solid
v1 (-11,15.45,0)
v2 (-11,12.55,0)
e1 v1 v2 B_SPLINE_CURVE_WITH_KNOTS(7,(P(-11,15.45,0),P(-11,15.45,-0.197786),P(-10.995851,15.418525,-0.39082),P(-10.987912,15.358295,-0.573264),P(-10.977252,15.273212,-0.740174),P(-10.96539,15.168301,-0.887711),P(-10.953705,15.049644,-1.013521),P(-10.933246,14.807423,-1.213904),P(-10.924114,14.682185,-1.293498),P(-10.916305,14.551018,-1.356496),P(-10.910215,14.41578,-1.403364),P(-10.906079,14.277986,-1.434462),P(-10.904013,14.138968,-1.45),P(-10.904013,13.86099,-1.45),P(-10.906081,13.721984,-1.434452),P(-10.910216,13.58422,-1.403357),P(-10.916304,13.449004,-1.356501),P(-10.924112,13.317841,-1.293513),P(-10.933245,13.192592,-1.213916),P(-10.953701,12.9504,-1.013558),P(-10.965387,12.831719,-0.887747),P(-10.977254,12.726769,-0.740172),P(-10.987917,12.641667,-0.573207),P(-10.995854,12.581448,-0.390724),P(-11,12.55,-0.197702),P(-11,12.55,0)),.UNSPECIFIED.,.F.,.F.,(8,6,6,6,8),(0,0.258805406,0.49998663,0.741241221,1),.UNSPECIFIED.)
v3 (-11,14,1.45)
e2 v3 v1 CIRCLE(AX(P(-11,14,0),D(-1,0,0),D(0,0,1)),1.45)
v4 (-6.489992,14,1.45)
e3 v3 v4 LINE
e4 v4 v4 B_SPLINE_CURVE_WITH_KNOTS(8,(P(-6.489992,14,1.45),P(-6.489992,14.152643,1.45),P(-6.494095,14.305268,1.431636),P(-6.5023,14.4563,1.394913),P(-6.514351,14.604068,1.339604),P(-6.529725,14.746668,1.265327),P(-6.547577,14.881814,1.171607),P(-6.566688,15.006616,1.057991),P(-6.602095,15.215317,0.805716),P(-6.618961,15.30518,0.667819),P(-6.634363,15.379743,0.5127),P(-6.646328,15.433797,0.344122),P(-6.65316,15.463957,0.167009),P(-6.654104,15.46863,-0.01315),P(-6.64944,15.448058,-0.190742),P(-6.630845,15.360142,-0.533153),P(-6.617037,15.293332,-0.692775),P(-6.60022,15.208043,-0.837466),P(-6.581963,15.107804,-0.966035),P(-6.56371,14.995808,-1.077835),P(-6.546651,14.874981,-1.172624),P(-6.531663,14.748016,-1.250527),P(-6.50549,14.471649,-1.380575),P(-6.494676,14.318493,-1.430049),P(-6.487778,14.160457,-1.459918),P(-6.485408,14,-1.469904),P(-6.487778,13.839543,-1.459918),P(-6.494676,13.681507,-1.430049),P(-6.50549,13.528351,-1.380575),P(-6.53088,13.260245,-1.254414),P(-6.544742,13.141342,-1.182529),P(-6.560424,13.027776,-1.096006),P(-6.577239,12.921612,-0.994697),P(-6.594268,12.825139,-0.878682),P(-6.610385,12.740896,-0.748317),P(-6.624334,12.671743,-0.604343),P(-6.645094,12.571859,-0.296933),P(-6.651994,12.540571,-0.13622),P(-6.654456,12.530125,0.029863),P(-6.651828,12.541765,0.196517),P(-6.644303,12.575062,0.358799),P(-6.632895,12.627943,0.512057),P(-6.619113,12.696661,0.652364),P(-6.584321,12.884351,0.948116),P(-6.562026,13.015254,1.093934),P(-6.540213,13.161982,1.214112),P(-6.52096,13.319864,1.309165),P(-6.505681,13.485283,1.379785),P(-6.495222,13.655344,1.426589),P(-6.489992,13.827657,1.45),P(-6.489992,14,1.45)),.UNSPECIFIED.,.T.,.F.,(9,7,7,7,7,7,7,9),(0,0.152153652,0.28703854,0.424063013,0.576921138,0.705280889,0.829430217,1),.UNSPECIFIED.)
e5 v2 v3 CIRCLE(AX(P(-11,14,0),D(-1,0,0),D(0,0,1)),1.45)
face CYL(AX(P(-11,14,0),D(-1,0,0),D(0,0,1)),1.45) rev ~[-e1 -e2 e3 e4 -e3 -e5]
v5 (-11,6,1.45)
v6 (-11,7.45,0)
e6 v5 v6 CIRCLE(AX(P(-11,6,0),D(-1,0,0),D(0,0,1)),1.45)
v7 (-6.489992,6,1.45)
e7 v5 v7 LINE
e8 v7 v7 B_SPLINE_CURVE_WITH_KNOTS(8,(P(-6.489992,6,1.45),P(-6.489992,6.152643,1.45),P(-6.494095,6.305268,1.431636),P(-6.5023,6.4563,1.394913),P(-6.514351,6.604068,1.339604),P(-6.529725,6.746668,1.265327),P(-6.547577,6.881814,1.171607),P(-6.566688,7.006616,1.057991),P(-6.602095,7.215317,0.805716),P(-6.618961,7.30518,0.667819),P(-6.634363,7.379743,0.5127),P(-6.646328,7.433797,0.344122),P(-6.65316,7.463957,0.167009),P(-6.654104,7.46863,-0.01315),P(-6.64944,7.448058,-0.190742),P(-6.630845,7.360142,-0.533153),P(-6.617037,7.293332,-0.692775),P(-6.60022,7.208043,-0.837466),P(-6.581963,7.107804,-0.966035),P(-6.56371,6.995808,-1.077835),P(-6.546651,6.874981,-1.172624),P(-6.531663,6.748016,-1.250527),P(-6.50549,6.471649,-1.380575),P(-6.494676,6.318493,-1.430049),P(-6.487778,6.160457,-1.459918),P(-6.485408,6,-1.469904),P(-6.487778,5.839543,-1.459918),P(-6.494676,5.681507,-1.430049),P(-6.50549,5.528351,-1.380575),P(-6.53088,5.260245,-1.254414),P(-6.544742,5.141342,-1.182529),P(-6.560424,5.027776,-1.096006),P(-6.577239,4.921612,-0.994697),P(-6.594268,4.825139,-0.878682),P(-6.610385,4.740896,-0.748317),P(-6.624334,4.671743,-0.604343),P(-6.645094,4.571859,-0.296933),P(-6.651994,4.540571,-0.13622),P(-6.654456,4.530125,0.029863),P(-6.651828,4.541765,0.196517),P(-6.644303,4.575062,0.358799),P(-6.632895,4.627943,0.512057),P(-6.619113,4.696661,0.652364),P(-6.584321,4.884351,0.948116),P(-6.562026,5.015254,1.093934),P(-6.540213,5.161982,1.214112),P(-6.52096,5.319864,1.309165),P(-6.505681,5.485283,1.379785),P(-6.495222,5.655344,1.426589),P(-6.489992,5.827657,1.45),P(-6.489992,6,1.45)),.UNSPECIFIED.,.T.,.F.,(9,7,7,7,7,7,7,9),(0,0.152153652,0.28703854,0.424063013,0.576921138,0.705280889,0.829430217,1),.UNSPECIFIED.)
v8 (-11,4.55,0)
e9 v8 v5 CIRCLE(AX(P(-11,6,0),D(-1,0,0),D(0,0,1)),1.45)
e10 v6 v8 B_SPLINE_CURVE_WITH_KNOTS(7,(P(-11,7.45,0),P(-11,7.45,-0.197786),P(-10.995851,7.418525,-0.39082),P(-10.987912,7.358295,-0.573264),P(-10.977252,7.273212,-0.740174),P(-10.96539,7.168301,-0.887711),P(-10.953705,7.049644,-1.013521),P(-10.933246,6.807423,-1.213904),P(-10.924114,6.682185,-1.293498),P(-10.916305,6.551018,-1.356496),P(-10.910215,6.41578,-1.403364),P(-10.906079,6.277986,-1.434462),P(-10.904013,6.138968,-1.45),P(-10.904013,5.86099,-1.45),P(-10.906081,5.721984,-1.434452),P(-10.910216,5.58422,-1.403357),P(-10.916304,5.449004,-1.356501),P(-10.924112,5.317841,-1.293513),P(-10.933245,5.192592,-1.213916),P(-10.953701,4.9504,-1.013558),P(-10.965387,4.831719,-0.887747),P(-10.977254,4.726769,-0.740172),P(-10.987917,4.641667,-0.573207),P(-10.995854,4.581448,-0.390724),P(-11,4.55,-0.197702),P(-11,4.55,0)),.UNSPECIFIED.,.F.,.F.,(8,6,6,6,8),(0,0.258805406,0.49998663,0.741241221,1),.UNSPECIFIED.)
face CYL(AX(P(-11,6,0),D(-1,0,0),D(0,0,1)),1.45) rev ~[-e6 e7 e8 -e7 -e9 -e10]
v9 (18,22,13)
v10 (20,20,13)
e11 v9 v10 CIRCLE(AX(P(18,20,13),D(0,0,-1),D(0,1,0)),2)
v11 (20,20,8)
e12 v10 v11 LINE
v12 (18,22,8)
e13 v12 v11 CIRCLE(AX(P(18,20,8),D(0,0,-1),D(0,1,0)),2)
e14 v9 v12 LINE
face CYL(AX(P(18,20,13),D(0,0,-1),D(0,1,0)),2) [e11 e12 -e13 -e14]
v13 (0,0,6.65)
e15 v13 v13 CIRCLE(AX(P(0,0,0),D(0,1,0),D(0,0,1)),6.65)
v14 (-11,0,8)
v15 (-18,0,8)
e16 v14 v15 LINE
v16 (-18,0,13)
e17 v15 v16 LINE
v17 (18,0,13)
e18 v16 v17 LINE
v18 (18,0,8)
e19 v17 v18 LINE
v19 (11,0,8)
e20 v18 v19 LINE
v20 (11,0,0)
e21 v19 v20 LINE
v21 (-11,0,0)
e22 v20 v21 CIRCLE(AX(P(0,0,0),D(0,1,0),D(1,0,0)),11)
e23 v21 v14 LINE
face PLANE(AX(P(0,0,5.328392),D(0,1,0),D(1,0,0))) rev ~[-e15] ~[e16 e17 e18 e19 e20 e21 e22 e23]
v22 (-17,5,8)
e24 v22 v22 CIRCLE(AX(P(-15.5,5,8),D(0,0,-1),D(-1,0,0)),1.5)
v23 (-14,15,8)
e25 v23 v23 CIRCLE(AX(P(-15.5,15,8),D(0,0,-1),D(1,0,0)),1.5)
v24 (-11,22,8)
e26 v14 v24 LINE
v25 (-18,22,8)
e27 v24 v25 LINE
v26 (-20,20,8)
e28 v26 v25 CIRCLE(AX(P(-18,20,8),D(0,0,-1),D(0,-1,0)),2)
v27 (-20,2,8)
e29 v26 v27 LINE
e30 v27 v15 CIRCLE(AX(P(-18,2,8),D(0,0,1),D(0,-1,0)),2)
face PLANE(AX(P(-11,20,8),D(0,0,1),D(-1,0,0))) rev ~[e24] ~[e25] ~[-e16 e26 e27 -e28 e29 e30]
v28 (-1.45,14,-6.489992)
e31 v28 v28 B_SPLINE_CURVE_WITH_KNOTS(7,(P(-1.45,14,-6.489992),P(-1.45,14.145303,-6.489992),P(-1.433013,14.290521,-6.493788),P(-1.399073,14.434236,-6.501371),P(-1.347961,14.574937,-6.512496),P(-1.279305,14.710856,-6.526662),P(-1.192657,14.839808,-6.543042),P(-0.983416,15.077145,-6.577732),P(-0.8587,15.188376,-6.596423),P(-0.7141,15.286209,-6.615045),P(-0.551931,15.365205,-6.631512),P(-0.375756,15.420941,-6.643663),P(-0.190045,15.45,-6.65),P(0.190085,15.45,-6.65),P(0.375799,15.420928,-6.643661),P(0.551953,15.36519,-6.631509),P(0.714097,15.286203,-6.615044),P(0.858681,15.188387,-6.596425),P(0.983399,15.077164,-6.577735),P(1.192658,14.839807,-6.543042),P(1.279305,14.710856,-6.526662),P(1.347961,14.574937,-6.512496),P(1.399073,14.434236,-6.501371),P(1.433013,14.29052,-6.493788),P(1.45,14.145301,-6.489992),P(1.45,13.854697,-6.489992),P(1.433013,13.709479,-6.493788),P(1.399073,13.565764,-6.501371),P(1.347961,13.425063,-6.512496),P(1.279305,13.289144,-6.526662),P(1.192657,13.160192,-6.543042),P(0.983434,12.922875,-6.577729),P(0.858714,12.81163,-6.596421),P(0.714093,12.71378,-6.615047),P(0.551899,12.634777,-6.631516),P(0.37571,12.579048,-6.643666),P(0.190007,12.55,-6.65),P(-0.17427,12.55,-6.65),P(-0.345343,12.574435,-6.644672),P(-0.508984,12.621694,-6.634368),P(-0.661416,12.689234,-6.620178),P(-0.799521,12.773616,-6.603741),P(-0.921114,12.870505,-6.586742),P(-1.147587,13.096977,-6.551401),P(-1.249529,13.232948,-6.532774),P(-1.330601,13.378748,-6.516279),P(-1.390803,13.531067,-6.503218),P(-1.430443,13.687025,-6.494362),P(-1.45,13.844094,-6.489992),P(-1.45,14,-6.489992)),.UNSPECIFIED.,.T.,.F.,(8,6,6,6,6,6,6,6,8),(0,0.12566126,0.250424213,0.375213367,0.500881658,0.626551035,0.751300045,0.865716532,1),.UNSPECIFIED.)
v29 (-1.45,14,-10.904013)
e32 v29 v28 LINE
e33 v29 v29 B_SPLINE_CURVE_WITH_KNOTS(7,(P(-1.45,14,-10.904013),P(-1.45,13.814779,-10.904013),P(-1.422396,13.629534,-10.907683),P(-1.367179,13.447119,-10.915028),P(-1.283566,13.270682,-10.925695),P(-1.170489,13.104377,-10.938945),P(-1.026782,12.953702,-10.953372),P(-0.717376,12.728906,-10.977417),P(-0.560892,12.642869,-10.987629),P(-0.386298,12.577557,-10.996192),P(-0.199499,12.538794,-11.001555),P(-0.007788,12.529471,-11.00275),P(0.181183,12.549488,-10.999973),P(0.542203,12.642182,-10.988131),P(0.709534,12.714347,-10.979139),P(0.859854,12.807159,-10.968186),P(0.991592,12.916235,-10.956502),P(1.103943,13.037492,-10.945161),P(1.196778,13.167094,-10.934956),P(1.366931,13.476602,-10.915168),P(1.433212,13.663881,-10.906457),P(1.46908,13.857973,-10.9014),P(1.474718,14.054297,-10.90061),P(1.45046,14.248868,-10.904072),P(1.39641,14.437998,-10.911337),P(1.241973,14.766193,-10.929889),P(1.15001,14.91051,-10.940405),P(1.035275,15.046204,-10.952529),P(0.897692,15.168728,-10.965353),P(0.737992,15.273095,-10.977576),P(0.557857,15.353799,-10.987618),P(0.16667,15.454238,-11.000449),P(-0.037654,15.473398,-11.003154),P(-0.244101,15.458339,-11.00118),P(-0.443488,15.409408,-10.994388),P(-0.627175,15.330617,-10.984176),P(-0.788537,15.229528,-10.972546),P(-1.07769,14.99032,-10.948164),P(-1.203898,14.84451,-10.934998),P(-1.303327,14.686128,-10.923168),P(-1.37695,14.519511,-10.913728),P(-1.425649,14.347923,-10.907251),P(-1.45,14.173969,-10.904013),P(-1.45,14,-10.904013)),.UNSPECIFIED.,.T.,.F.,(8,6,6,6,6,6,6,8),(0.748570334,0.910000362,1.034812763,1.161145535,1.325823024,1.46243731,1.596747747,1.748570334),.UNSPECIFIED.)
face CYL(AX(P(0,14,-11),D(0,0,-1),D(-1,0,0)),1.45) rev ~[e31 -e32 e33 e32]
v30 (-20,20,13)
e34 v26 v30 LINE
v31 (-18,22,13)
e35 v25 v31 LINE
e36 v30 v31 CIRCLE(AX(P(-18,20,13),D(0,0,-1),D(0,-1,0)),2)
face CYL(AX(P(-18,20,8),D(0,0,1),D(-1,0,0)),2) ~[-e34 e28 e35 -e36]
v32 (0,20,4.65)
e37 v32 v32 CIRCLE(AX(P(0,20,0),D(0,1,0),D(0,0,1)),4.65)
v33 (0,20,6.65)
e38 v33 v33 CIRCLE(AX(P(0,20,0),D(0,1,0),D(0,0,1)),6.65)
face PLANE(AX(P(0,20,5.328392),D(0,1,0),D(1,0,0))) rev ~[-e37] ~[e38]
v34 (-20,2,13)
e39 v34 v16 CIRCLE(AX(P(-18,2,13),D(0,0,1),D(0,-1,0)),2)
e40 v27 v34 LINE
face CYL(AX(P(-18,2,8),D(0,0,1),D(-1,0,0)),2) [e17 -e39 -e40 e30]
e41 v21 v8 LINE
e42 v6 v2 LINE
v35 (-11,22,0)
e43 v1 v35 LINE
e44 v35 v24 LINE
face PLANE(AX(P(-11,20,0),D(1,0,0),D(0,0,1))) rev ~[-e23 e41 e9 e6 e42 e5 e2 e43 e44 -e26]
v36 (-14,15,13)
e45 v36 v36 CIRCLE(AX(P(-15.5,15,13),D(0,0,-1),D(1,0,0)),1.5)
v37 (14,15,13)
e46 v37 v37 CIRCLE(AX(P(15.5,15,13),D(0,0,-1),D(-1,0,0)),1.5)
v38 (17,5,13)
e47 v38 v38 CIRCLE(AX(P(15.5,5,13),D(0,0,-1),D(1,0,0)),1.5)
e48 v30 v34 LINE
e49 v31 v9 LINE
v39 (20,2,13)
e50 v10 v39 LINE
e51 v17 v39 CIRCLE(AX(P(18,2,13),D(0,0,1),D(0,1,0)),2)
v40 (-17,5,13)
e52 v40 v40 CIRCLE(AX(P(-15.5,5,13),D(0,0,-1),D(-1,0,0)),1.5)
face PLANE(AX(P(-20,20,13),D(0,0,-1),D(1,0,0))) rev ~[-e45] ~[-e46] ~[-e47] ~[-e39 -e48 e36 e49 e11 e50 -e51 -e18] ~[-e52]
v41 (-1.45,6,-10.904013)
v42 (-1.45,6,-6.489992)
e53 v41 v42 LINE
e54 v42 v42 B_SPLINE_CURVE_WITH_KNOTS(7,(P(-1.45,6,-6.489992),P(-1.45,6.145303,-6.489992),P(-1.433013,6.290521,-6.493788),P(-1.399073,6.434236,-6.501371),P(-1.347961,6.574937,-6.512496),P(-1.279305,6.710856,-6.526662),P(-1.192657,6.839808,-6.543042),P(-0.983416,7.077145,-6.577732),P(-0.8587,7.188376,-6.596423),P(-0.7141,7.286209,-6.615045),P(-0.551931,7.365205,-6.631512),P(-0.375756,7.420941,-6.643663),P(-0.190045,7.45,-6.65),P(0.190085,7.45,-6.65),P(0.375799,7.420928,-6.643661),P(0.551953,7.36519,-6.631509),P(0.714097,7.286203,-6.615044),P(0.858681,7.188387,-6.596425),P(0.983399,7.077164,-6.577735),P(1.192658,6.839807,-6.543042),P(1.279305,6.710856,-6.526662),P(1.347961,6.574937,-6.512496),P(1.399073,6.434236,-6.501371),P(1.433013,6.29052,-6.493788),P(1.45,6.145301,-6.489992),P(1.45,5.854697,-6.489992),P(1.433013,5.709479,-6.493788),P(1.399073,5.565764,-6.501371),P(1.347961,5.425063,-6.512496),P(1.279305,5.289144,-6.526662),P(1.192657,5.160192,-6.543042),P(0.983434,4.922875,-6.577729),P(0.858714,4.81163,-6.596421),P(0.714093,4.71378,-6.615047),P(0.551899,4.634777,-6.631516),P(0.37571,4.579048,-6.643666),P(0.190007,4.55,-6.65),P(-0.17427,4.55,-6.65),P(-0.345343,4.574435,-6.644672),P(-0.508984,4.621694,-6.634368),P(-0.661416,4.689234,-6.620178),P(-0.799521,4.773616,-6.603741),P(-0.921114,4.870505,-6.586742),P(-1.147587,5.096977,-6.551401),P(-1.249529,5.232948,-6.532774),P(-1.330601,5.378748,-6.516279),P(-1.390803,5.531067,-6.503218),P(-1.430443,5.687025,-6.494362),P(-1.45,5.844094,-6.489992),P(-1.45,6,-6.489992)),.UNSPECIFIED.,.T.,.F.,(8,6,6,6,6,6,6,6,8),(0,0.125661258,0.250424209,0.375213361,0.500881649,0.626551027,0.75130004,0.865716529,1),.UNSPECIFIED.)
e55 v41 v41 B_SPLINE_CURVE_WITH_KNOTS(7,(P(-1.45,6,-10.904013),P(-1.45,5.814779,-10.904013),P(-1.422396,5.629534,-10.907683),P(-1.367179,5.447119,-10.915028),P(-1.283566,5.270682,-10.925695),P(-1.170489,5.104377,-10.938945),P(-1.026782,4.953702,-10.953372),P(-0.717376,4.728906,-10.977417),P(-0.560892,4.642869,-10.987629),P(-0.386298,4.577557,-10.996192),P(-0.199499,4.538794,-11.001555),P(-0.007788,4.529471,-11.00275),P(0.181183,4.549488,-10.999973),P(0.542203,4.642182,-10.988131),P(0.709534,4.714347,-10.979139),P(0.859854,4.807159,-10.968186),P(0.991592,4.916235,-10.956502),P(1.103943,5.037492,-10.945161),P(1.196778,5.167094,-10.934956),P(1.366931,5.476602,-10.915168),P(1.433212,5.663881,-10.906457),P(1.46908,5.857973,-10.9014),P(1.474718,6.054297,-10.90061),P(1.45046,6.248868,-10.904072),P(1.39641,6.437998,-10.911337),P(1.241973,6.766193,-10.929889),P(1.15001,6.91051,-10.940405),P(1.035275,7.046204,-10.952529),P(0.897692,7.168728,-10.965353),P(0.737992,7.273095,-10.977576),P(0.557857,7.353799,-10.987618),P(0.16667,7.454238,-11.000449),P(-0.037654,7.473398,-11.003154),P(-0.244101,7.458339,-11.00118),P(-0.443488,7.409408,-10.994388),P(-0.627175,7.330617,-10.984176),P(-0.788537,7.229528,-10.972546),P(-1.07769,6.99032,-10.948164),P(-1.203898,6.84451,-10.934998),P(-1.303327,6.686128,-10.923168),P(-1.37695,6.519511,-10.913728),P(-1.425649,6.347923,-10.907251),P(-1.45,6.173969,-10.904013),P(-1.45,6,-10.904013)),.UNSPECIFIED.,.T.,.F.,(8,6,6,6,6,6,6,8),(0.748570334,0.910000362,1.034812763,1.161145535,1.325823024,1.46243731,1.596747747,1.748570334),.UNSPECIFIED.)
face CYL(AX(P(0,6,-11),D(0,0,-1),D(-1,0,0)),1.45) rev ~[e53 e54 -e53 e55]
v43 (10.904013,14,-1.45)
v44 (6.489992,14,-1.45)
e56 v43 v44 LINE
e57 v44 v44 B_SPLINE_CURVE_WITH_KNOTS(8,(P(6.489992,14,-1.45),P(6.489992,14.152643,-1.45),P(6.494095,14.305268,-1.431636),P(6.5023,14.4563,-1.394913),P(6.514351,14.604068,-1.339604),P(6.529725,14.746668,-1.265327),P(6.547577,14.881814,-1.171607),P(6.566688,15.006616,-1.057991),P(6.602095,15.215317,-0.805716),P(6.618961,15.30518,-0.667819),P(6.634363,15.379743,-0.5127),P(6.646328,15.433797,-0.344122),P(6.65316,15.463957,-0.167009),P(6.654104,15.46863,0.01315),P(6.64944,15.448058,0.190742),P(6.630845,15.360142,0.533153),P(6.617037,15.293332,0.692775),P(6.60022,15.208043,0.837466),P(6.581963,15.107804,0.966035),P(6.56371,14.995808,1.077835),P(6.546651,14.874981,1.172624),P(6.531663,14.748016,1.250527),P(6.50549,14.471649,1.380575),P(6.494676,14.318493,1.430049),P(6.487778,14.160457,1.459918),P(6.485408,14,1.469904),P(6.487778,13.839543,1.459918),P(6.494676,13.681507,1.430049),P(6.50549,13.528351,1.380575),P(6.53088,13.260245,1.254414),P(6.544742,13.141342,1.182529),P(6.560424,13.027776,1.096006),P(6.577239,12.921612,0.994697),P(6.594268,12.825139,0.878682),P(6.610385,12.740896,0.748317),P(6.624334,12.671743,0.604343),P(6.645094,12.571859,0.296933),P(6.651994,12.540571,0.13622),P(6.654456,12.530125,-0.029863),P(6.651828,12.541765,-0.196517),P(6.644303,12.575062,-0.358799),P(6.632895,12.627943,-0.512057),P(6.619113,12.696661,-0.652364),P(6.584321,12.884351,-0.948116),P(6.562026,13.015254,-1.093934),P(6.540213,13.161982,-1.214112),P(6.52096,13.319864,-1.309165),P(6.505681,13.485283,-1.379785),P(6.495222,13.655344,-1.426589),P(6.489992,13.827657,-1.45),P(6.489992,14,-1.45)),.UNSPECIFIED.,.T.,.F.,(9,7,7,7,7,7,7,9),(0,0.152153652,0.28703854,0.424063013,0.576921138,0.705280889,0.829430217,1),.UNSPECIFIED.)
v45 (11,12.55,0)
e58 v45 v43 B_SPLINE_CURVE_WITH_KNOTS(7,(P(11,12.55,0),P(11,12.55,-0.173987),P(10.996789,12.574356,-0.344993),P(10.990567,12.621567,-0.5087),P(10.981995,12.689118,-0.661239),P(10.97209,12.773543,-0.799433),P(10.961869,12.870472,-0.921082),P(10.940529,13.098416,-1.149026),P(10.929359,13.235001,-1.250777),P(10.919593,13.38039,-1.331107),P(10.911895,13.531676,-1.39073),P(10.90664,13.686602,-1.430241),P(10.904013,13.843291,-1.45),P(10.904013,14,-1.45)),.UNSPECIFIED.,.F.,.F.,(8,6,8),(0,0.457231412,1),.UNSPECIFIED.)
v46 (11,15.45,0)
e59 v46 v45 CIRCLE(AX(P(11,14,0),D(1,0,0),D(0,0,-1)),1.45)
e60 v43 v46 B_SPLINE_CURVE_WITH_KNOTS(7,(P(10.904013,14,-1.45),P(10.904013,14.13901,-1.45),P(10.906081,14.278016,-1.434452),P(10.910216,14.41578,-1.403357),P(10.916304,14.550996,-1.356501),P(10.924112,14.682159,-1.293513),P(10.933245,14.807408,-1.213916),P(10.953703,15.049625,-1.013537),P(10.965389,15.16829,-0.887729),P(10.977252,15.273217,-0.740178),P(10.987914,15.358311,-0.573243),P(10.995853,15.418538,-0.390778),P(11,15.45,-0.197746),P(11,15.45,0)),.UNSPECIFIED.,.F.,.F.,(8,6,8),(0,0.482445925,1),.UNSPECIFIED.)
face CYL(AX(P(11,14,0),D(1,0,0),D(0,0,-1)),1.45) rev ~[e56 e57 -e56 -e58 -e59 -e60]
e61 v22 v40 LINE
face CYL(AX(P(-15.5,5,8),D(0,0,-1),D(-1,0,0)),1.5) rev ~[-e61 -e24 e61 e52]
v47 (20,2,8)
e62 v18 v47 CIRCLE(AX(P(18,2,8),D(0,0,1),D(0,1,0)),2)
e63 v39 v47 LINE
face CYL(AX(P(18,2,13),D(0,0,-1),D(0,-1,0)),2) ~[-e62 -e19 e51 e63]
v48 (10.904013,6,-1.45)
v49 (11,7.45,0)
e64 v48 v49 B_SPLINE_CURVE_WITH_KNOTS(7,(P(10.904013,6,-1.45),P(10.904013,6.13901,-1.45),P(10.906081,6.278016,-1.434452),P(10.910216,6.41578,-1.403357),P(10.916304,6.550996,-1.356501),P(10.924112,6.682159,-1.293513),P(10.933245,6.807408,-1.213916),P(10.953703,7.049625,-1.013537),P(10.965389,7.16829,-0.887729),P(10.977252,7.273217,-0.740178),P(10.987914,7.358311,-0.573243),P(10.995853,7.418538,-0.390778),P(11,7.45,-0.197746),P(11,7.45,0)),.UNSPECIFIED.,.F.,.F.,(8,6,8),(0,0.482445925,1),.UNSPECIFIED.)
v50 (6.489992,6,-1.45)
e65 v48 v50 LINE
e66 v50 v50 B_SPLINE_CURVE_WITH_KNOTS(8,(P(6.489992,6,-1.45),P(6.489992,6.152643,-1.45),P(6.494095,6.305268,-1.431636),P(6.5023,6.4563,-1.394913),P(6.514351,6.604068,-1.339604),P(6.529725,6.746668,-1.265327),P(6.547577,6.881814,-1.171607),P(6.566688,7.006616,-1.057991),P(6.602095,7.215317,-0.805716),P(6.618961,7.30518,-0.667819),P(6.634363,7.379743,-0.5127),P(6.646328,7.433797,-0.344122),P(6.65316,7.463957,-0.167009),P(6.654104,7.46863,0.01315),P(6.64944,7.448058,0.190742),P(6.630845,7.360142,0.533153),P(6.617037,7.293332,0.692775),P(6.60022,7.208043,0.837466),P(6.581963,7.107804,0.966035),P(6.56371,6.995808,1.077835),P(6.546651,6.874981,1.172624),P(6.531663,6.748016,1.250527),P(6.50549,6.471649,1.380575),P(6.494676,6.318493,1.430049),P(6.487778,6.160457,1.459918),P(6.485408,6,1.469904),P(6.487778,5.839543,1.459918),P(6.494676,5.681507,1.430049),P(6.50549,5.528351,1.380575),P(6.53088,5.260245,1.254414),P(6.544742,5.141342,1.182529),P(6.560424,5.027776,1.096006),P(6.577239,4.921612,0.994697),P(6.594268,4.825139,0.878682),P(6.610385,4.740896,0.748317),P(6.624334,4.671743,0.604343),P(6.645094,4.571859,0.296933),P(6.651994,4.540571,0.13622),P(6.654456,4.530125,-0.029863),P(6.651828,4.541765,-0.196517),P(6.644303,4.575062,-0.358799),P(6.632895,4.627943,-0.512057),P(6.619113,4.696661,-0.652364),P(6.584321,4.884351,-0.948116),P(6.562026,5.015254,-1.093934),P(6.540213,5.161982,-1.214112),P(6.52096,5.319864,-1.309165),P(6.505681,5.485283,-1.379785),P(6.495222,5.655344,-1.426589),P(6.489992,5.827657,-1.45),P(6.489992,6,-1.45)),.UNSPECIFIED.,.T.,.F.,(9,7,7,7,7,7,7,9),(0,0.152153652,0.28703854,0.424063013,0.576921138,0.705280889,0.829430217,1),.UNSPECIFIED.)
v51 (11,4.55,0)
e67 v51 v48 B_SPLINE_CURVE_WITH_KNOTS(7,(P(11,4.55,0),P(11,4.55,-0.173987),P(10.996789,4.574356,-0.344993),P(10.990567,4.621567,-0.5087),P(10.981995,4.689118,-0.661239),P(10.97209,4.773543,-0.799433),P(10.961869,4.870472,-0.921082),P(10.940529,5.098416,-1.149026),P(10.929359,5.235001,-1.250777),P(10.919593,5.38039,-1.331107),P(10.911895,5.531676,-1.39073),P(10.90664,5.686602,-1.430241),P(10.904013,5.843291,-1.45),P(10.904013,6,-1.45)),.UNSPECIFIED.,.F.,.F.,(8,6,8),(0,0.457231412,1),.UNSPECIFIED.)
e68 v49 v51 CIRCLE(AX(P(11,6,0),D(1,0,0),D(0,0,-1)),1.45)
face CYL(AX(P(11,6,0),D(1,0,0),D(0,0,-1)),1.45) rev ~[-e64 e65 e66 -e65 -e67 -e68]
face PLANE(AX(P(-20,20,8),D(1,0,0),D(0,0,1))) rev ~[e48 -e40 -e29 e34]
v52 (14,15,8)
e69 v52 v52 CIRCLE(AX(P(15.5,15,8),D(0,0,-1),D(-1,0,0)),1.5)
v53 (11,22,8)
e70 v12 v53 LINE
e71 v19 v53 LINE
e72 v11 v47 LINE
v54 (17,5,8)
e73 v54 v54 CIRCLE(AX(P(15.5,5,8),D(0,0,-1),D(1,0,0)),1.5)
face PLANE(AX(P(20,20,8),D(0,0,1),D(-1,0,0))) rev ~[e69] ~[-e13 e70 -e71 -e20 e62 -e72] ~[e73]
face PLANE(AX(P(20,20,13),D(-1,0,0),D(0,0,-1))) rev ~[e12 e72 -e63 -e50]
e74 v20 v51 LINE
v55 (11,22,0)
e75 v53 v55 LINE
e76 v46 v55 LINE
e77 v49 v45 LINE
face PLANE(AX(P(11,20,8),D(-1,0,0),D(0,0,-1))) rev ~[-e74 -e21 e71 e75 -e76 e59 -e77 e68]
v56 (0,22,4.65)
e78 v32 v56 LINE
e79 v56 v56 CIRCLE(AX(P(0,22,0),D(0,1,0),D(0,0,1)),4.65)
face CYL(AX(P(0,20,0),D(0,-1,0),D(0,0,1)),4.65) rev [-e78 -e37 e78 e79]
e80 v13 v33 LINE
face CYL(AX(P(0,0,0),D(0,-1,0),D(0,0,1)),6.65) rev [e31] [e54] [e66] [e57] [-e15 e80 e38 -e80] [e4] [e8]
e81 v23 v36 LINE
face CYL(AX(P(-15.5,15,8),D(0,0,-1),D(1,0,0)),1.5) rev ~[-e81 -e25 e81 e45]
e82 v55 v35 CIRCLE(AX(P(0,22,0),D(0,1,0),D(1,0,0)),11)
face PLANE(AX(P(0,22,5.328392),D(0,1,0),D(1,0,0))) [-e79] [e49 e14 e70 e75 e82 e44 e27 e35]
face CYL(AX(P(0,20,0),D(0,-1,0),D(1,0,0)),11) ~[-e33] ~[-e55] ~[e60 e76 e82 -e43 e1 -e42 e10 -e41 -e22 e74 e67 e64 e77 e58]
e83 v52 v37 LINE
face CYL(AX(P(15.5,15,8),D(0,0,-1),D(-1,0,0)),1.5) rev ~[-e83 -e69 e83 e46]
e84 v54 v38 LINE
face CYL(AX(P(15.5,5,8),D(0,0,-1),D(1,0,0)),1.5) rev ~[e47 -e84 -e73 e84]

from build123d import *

# Parameters (mm, degrees)
SKETCH_1_R               = 6.65
EXTRUDE_1_DEPTH          = 20
SKETCH_2_R               = 1.5
CUT_EXTRUDE_1_DEPTH      = 35.073450075
SKETCH_3_R               = 1.45
CUT_EXTRUDE_2_DEPTH      = 10
PATTERN_CIRCULAR_1_COUNT = 2
PATTERN_CIRCULAR_1_ANGLE = 90
F_1_THE_OTHER_WAY_COUNT  = 2
F_1_THE_OTHER_WAY_ANGLE  = 90
SKETCH_4_R               = 4.65
EXTRUDE_2_DEPTH          = 2
FILLET_1_R               = 2


with BuildPart() as part:
    # 草图1 → 凸台-拉伸1 (new body)
    with BuildSketch(Plane(origin=(0, 0, 0), x_dir=(1, 0, 0), z_dir=(0, 1, 0))):
        with BuildLine():
            Line((-11, 0), (-11, -8))
            Line((-11, -8), (-20, -8))
            Line((-20, -8), (-20, -13))
            Line((-20, -13), (20, -13))
            Line((20, -13), (20, -8))
            Line((20, -8), (11, -8))
            Line((11, -8), (11, 0))
            ThreePointArc((11, 0), (0, 11), (-11, 0))
        make_face()
        with Locations(Location((0, 0, 0), (0, 0, 270))):
            Circle(SKETCH_1_R, mode=Mode.SUBTRACT)
    extrude(amount=EXTRUDE_1_DEPTH)

    # 草图2 → 切除-拉伸1 (cut, through all)
    with BuildSketch(Plane(origin=(0, 0, 8), x_dir=(-1, 0, 0), z_dir=(0, 0, -1))):
        with Locations((15.5, 5)):
            Circle(SKETCH_2_R)
        with Locations(Location((15.5, 15, 0), (0, 0, 180))):
            Circle(SKETCH_2_R)
        with Locations((-15.5, 15)):
            Circle(SKETCH_2_R)
        with Locations(Location((-15.5, 5, 0), (0, 0, 180))):
            Circle(SKETCH_2_R)
    extrude(amount=-CUT_EXTRUDE_1_DEPTH, mode=Mode.SUBTRACT)

    # 草图3 → 切除-拉伸2 (cut)
    with BuildSketch(Plane(origin=(0, 0, -11), x_dir=(-1, 0, 0), z_dir=(0, 0, -1))):
        with Locations((0, 6)):
            Circle(SKETCH_3_R)
        with Locations((0, 14)):
            Circle(SKETCH_3_R)
    cut_extrude_2 = extrude(amount=-CUT_EXTRUDE_2_DEPTH, mode=Mode.SUBTRACT)

    # 阵列(圆周)1: 切除-拉伸2 ×2 about axis
    pattern_circular_1_axis = Axis((0, 20, 0), (0, -1, 0))
    for i in range(1, PATTERN_CIRCULAR_1_COUNT):
        add(cut_extrude_2.rotate(pattern_circular_1_axis, i * PATTERN_CIRCULAR_1_ANGLE / (PATTERN_CIRCULAR_1_COUNT - 1)), mode=Mode.SUBTRACT)

    # 1 the other way: 切除-拉伸2 ×2 about axis
    f_1_the_other_way_axis = Axis((0, 20, 0), (0, 1, 0))
    for i in range(1, F_1_THE_OTHER_WAY_COUNT):
        add(cut_extrude_2.rotate(f_1_the_other_way_axis, i * F_1_THE_OTHER_WAY_ANGLE / (F_1_THE_OTHER_WAY_COUNT - 1)), mode=Mode.SUBTRACT)

    # 草图4 → 凸台-拉伸2 (add)
    with BuildSketch(Plane(origin=(0, 20, 0), x_dir=(1, 0, 0), z_dir=(0, 1, 0))):
        with BuildLine():
            Line((20, -8), (11, -8))
            Line((11, -8), (11, 0))
            ThreePointArc((11, 0), (0, 11), (-11, 0))
            Line((-11, 0), (-11, -8))
            Line((-11, -8), (-20, -8))
            Line((-20, -8), (-20, -13))
            Line((-20, -13), (20, -13))
            Line((20, -13), (20, -8))
        make_face()
        with Locations(Location((0, 0, 0), (0, 0, 270))):
            Circle(SKETCH_4_R, mode=Mode.SUBTRACT)
    extrude(amount=EXTRUDE_2_DEPTH)

    # 圆角1
    fillet_1_edges = [part.edges().sort_by_distance(p)[0] for p in [
        (20, 0, 10.5),
        (-20, 0, 10.5),
        (20, 22, 10.5),
        (-20, 22, 10.5),
    ]]
    fillet(fillet_1_edges, radius=FILLET_1_R)


solid = part.part
